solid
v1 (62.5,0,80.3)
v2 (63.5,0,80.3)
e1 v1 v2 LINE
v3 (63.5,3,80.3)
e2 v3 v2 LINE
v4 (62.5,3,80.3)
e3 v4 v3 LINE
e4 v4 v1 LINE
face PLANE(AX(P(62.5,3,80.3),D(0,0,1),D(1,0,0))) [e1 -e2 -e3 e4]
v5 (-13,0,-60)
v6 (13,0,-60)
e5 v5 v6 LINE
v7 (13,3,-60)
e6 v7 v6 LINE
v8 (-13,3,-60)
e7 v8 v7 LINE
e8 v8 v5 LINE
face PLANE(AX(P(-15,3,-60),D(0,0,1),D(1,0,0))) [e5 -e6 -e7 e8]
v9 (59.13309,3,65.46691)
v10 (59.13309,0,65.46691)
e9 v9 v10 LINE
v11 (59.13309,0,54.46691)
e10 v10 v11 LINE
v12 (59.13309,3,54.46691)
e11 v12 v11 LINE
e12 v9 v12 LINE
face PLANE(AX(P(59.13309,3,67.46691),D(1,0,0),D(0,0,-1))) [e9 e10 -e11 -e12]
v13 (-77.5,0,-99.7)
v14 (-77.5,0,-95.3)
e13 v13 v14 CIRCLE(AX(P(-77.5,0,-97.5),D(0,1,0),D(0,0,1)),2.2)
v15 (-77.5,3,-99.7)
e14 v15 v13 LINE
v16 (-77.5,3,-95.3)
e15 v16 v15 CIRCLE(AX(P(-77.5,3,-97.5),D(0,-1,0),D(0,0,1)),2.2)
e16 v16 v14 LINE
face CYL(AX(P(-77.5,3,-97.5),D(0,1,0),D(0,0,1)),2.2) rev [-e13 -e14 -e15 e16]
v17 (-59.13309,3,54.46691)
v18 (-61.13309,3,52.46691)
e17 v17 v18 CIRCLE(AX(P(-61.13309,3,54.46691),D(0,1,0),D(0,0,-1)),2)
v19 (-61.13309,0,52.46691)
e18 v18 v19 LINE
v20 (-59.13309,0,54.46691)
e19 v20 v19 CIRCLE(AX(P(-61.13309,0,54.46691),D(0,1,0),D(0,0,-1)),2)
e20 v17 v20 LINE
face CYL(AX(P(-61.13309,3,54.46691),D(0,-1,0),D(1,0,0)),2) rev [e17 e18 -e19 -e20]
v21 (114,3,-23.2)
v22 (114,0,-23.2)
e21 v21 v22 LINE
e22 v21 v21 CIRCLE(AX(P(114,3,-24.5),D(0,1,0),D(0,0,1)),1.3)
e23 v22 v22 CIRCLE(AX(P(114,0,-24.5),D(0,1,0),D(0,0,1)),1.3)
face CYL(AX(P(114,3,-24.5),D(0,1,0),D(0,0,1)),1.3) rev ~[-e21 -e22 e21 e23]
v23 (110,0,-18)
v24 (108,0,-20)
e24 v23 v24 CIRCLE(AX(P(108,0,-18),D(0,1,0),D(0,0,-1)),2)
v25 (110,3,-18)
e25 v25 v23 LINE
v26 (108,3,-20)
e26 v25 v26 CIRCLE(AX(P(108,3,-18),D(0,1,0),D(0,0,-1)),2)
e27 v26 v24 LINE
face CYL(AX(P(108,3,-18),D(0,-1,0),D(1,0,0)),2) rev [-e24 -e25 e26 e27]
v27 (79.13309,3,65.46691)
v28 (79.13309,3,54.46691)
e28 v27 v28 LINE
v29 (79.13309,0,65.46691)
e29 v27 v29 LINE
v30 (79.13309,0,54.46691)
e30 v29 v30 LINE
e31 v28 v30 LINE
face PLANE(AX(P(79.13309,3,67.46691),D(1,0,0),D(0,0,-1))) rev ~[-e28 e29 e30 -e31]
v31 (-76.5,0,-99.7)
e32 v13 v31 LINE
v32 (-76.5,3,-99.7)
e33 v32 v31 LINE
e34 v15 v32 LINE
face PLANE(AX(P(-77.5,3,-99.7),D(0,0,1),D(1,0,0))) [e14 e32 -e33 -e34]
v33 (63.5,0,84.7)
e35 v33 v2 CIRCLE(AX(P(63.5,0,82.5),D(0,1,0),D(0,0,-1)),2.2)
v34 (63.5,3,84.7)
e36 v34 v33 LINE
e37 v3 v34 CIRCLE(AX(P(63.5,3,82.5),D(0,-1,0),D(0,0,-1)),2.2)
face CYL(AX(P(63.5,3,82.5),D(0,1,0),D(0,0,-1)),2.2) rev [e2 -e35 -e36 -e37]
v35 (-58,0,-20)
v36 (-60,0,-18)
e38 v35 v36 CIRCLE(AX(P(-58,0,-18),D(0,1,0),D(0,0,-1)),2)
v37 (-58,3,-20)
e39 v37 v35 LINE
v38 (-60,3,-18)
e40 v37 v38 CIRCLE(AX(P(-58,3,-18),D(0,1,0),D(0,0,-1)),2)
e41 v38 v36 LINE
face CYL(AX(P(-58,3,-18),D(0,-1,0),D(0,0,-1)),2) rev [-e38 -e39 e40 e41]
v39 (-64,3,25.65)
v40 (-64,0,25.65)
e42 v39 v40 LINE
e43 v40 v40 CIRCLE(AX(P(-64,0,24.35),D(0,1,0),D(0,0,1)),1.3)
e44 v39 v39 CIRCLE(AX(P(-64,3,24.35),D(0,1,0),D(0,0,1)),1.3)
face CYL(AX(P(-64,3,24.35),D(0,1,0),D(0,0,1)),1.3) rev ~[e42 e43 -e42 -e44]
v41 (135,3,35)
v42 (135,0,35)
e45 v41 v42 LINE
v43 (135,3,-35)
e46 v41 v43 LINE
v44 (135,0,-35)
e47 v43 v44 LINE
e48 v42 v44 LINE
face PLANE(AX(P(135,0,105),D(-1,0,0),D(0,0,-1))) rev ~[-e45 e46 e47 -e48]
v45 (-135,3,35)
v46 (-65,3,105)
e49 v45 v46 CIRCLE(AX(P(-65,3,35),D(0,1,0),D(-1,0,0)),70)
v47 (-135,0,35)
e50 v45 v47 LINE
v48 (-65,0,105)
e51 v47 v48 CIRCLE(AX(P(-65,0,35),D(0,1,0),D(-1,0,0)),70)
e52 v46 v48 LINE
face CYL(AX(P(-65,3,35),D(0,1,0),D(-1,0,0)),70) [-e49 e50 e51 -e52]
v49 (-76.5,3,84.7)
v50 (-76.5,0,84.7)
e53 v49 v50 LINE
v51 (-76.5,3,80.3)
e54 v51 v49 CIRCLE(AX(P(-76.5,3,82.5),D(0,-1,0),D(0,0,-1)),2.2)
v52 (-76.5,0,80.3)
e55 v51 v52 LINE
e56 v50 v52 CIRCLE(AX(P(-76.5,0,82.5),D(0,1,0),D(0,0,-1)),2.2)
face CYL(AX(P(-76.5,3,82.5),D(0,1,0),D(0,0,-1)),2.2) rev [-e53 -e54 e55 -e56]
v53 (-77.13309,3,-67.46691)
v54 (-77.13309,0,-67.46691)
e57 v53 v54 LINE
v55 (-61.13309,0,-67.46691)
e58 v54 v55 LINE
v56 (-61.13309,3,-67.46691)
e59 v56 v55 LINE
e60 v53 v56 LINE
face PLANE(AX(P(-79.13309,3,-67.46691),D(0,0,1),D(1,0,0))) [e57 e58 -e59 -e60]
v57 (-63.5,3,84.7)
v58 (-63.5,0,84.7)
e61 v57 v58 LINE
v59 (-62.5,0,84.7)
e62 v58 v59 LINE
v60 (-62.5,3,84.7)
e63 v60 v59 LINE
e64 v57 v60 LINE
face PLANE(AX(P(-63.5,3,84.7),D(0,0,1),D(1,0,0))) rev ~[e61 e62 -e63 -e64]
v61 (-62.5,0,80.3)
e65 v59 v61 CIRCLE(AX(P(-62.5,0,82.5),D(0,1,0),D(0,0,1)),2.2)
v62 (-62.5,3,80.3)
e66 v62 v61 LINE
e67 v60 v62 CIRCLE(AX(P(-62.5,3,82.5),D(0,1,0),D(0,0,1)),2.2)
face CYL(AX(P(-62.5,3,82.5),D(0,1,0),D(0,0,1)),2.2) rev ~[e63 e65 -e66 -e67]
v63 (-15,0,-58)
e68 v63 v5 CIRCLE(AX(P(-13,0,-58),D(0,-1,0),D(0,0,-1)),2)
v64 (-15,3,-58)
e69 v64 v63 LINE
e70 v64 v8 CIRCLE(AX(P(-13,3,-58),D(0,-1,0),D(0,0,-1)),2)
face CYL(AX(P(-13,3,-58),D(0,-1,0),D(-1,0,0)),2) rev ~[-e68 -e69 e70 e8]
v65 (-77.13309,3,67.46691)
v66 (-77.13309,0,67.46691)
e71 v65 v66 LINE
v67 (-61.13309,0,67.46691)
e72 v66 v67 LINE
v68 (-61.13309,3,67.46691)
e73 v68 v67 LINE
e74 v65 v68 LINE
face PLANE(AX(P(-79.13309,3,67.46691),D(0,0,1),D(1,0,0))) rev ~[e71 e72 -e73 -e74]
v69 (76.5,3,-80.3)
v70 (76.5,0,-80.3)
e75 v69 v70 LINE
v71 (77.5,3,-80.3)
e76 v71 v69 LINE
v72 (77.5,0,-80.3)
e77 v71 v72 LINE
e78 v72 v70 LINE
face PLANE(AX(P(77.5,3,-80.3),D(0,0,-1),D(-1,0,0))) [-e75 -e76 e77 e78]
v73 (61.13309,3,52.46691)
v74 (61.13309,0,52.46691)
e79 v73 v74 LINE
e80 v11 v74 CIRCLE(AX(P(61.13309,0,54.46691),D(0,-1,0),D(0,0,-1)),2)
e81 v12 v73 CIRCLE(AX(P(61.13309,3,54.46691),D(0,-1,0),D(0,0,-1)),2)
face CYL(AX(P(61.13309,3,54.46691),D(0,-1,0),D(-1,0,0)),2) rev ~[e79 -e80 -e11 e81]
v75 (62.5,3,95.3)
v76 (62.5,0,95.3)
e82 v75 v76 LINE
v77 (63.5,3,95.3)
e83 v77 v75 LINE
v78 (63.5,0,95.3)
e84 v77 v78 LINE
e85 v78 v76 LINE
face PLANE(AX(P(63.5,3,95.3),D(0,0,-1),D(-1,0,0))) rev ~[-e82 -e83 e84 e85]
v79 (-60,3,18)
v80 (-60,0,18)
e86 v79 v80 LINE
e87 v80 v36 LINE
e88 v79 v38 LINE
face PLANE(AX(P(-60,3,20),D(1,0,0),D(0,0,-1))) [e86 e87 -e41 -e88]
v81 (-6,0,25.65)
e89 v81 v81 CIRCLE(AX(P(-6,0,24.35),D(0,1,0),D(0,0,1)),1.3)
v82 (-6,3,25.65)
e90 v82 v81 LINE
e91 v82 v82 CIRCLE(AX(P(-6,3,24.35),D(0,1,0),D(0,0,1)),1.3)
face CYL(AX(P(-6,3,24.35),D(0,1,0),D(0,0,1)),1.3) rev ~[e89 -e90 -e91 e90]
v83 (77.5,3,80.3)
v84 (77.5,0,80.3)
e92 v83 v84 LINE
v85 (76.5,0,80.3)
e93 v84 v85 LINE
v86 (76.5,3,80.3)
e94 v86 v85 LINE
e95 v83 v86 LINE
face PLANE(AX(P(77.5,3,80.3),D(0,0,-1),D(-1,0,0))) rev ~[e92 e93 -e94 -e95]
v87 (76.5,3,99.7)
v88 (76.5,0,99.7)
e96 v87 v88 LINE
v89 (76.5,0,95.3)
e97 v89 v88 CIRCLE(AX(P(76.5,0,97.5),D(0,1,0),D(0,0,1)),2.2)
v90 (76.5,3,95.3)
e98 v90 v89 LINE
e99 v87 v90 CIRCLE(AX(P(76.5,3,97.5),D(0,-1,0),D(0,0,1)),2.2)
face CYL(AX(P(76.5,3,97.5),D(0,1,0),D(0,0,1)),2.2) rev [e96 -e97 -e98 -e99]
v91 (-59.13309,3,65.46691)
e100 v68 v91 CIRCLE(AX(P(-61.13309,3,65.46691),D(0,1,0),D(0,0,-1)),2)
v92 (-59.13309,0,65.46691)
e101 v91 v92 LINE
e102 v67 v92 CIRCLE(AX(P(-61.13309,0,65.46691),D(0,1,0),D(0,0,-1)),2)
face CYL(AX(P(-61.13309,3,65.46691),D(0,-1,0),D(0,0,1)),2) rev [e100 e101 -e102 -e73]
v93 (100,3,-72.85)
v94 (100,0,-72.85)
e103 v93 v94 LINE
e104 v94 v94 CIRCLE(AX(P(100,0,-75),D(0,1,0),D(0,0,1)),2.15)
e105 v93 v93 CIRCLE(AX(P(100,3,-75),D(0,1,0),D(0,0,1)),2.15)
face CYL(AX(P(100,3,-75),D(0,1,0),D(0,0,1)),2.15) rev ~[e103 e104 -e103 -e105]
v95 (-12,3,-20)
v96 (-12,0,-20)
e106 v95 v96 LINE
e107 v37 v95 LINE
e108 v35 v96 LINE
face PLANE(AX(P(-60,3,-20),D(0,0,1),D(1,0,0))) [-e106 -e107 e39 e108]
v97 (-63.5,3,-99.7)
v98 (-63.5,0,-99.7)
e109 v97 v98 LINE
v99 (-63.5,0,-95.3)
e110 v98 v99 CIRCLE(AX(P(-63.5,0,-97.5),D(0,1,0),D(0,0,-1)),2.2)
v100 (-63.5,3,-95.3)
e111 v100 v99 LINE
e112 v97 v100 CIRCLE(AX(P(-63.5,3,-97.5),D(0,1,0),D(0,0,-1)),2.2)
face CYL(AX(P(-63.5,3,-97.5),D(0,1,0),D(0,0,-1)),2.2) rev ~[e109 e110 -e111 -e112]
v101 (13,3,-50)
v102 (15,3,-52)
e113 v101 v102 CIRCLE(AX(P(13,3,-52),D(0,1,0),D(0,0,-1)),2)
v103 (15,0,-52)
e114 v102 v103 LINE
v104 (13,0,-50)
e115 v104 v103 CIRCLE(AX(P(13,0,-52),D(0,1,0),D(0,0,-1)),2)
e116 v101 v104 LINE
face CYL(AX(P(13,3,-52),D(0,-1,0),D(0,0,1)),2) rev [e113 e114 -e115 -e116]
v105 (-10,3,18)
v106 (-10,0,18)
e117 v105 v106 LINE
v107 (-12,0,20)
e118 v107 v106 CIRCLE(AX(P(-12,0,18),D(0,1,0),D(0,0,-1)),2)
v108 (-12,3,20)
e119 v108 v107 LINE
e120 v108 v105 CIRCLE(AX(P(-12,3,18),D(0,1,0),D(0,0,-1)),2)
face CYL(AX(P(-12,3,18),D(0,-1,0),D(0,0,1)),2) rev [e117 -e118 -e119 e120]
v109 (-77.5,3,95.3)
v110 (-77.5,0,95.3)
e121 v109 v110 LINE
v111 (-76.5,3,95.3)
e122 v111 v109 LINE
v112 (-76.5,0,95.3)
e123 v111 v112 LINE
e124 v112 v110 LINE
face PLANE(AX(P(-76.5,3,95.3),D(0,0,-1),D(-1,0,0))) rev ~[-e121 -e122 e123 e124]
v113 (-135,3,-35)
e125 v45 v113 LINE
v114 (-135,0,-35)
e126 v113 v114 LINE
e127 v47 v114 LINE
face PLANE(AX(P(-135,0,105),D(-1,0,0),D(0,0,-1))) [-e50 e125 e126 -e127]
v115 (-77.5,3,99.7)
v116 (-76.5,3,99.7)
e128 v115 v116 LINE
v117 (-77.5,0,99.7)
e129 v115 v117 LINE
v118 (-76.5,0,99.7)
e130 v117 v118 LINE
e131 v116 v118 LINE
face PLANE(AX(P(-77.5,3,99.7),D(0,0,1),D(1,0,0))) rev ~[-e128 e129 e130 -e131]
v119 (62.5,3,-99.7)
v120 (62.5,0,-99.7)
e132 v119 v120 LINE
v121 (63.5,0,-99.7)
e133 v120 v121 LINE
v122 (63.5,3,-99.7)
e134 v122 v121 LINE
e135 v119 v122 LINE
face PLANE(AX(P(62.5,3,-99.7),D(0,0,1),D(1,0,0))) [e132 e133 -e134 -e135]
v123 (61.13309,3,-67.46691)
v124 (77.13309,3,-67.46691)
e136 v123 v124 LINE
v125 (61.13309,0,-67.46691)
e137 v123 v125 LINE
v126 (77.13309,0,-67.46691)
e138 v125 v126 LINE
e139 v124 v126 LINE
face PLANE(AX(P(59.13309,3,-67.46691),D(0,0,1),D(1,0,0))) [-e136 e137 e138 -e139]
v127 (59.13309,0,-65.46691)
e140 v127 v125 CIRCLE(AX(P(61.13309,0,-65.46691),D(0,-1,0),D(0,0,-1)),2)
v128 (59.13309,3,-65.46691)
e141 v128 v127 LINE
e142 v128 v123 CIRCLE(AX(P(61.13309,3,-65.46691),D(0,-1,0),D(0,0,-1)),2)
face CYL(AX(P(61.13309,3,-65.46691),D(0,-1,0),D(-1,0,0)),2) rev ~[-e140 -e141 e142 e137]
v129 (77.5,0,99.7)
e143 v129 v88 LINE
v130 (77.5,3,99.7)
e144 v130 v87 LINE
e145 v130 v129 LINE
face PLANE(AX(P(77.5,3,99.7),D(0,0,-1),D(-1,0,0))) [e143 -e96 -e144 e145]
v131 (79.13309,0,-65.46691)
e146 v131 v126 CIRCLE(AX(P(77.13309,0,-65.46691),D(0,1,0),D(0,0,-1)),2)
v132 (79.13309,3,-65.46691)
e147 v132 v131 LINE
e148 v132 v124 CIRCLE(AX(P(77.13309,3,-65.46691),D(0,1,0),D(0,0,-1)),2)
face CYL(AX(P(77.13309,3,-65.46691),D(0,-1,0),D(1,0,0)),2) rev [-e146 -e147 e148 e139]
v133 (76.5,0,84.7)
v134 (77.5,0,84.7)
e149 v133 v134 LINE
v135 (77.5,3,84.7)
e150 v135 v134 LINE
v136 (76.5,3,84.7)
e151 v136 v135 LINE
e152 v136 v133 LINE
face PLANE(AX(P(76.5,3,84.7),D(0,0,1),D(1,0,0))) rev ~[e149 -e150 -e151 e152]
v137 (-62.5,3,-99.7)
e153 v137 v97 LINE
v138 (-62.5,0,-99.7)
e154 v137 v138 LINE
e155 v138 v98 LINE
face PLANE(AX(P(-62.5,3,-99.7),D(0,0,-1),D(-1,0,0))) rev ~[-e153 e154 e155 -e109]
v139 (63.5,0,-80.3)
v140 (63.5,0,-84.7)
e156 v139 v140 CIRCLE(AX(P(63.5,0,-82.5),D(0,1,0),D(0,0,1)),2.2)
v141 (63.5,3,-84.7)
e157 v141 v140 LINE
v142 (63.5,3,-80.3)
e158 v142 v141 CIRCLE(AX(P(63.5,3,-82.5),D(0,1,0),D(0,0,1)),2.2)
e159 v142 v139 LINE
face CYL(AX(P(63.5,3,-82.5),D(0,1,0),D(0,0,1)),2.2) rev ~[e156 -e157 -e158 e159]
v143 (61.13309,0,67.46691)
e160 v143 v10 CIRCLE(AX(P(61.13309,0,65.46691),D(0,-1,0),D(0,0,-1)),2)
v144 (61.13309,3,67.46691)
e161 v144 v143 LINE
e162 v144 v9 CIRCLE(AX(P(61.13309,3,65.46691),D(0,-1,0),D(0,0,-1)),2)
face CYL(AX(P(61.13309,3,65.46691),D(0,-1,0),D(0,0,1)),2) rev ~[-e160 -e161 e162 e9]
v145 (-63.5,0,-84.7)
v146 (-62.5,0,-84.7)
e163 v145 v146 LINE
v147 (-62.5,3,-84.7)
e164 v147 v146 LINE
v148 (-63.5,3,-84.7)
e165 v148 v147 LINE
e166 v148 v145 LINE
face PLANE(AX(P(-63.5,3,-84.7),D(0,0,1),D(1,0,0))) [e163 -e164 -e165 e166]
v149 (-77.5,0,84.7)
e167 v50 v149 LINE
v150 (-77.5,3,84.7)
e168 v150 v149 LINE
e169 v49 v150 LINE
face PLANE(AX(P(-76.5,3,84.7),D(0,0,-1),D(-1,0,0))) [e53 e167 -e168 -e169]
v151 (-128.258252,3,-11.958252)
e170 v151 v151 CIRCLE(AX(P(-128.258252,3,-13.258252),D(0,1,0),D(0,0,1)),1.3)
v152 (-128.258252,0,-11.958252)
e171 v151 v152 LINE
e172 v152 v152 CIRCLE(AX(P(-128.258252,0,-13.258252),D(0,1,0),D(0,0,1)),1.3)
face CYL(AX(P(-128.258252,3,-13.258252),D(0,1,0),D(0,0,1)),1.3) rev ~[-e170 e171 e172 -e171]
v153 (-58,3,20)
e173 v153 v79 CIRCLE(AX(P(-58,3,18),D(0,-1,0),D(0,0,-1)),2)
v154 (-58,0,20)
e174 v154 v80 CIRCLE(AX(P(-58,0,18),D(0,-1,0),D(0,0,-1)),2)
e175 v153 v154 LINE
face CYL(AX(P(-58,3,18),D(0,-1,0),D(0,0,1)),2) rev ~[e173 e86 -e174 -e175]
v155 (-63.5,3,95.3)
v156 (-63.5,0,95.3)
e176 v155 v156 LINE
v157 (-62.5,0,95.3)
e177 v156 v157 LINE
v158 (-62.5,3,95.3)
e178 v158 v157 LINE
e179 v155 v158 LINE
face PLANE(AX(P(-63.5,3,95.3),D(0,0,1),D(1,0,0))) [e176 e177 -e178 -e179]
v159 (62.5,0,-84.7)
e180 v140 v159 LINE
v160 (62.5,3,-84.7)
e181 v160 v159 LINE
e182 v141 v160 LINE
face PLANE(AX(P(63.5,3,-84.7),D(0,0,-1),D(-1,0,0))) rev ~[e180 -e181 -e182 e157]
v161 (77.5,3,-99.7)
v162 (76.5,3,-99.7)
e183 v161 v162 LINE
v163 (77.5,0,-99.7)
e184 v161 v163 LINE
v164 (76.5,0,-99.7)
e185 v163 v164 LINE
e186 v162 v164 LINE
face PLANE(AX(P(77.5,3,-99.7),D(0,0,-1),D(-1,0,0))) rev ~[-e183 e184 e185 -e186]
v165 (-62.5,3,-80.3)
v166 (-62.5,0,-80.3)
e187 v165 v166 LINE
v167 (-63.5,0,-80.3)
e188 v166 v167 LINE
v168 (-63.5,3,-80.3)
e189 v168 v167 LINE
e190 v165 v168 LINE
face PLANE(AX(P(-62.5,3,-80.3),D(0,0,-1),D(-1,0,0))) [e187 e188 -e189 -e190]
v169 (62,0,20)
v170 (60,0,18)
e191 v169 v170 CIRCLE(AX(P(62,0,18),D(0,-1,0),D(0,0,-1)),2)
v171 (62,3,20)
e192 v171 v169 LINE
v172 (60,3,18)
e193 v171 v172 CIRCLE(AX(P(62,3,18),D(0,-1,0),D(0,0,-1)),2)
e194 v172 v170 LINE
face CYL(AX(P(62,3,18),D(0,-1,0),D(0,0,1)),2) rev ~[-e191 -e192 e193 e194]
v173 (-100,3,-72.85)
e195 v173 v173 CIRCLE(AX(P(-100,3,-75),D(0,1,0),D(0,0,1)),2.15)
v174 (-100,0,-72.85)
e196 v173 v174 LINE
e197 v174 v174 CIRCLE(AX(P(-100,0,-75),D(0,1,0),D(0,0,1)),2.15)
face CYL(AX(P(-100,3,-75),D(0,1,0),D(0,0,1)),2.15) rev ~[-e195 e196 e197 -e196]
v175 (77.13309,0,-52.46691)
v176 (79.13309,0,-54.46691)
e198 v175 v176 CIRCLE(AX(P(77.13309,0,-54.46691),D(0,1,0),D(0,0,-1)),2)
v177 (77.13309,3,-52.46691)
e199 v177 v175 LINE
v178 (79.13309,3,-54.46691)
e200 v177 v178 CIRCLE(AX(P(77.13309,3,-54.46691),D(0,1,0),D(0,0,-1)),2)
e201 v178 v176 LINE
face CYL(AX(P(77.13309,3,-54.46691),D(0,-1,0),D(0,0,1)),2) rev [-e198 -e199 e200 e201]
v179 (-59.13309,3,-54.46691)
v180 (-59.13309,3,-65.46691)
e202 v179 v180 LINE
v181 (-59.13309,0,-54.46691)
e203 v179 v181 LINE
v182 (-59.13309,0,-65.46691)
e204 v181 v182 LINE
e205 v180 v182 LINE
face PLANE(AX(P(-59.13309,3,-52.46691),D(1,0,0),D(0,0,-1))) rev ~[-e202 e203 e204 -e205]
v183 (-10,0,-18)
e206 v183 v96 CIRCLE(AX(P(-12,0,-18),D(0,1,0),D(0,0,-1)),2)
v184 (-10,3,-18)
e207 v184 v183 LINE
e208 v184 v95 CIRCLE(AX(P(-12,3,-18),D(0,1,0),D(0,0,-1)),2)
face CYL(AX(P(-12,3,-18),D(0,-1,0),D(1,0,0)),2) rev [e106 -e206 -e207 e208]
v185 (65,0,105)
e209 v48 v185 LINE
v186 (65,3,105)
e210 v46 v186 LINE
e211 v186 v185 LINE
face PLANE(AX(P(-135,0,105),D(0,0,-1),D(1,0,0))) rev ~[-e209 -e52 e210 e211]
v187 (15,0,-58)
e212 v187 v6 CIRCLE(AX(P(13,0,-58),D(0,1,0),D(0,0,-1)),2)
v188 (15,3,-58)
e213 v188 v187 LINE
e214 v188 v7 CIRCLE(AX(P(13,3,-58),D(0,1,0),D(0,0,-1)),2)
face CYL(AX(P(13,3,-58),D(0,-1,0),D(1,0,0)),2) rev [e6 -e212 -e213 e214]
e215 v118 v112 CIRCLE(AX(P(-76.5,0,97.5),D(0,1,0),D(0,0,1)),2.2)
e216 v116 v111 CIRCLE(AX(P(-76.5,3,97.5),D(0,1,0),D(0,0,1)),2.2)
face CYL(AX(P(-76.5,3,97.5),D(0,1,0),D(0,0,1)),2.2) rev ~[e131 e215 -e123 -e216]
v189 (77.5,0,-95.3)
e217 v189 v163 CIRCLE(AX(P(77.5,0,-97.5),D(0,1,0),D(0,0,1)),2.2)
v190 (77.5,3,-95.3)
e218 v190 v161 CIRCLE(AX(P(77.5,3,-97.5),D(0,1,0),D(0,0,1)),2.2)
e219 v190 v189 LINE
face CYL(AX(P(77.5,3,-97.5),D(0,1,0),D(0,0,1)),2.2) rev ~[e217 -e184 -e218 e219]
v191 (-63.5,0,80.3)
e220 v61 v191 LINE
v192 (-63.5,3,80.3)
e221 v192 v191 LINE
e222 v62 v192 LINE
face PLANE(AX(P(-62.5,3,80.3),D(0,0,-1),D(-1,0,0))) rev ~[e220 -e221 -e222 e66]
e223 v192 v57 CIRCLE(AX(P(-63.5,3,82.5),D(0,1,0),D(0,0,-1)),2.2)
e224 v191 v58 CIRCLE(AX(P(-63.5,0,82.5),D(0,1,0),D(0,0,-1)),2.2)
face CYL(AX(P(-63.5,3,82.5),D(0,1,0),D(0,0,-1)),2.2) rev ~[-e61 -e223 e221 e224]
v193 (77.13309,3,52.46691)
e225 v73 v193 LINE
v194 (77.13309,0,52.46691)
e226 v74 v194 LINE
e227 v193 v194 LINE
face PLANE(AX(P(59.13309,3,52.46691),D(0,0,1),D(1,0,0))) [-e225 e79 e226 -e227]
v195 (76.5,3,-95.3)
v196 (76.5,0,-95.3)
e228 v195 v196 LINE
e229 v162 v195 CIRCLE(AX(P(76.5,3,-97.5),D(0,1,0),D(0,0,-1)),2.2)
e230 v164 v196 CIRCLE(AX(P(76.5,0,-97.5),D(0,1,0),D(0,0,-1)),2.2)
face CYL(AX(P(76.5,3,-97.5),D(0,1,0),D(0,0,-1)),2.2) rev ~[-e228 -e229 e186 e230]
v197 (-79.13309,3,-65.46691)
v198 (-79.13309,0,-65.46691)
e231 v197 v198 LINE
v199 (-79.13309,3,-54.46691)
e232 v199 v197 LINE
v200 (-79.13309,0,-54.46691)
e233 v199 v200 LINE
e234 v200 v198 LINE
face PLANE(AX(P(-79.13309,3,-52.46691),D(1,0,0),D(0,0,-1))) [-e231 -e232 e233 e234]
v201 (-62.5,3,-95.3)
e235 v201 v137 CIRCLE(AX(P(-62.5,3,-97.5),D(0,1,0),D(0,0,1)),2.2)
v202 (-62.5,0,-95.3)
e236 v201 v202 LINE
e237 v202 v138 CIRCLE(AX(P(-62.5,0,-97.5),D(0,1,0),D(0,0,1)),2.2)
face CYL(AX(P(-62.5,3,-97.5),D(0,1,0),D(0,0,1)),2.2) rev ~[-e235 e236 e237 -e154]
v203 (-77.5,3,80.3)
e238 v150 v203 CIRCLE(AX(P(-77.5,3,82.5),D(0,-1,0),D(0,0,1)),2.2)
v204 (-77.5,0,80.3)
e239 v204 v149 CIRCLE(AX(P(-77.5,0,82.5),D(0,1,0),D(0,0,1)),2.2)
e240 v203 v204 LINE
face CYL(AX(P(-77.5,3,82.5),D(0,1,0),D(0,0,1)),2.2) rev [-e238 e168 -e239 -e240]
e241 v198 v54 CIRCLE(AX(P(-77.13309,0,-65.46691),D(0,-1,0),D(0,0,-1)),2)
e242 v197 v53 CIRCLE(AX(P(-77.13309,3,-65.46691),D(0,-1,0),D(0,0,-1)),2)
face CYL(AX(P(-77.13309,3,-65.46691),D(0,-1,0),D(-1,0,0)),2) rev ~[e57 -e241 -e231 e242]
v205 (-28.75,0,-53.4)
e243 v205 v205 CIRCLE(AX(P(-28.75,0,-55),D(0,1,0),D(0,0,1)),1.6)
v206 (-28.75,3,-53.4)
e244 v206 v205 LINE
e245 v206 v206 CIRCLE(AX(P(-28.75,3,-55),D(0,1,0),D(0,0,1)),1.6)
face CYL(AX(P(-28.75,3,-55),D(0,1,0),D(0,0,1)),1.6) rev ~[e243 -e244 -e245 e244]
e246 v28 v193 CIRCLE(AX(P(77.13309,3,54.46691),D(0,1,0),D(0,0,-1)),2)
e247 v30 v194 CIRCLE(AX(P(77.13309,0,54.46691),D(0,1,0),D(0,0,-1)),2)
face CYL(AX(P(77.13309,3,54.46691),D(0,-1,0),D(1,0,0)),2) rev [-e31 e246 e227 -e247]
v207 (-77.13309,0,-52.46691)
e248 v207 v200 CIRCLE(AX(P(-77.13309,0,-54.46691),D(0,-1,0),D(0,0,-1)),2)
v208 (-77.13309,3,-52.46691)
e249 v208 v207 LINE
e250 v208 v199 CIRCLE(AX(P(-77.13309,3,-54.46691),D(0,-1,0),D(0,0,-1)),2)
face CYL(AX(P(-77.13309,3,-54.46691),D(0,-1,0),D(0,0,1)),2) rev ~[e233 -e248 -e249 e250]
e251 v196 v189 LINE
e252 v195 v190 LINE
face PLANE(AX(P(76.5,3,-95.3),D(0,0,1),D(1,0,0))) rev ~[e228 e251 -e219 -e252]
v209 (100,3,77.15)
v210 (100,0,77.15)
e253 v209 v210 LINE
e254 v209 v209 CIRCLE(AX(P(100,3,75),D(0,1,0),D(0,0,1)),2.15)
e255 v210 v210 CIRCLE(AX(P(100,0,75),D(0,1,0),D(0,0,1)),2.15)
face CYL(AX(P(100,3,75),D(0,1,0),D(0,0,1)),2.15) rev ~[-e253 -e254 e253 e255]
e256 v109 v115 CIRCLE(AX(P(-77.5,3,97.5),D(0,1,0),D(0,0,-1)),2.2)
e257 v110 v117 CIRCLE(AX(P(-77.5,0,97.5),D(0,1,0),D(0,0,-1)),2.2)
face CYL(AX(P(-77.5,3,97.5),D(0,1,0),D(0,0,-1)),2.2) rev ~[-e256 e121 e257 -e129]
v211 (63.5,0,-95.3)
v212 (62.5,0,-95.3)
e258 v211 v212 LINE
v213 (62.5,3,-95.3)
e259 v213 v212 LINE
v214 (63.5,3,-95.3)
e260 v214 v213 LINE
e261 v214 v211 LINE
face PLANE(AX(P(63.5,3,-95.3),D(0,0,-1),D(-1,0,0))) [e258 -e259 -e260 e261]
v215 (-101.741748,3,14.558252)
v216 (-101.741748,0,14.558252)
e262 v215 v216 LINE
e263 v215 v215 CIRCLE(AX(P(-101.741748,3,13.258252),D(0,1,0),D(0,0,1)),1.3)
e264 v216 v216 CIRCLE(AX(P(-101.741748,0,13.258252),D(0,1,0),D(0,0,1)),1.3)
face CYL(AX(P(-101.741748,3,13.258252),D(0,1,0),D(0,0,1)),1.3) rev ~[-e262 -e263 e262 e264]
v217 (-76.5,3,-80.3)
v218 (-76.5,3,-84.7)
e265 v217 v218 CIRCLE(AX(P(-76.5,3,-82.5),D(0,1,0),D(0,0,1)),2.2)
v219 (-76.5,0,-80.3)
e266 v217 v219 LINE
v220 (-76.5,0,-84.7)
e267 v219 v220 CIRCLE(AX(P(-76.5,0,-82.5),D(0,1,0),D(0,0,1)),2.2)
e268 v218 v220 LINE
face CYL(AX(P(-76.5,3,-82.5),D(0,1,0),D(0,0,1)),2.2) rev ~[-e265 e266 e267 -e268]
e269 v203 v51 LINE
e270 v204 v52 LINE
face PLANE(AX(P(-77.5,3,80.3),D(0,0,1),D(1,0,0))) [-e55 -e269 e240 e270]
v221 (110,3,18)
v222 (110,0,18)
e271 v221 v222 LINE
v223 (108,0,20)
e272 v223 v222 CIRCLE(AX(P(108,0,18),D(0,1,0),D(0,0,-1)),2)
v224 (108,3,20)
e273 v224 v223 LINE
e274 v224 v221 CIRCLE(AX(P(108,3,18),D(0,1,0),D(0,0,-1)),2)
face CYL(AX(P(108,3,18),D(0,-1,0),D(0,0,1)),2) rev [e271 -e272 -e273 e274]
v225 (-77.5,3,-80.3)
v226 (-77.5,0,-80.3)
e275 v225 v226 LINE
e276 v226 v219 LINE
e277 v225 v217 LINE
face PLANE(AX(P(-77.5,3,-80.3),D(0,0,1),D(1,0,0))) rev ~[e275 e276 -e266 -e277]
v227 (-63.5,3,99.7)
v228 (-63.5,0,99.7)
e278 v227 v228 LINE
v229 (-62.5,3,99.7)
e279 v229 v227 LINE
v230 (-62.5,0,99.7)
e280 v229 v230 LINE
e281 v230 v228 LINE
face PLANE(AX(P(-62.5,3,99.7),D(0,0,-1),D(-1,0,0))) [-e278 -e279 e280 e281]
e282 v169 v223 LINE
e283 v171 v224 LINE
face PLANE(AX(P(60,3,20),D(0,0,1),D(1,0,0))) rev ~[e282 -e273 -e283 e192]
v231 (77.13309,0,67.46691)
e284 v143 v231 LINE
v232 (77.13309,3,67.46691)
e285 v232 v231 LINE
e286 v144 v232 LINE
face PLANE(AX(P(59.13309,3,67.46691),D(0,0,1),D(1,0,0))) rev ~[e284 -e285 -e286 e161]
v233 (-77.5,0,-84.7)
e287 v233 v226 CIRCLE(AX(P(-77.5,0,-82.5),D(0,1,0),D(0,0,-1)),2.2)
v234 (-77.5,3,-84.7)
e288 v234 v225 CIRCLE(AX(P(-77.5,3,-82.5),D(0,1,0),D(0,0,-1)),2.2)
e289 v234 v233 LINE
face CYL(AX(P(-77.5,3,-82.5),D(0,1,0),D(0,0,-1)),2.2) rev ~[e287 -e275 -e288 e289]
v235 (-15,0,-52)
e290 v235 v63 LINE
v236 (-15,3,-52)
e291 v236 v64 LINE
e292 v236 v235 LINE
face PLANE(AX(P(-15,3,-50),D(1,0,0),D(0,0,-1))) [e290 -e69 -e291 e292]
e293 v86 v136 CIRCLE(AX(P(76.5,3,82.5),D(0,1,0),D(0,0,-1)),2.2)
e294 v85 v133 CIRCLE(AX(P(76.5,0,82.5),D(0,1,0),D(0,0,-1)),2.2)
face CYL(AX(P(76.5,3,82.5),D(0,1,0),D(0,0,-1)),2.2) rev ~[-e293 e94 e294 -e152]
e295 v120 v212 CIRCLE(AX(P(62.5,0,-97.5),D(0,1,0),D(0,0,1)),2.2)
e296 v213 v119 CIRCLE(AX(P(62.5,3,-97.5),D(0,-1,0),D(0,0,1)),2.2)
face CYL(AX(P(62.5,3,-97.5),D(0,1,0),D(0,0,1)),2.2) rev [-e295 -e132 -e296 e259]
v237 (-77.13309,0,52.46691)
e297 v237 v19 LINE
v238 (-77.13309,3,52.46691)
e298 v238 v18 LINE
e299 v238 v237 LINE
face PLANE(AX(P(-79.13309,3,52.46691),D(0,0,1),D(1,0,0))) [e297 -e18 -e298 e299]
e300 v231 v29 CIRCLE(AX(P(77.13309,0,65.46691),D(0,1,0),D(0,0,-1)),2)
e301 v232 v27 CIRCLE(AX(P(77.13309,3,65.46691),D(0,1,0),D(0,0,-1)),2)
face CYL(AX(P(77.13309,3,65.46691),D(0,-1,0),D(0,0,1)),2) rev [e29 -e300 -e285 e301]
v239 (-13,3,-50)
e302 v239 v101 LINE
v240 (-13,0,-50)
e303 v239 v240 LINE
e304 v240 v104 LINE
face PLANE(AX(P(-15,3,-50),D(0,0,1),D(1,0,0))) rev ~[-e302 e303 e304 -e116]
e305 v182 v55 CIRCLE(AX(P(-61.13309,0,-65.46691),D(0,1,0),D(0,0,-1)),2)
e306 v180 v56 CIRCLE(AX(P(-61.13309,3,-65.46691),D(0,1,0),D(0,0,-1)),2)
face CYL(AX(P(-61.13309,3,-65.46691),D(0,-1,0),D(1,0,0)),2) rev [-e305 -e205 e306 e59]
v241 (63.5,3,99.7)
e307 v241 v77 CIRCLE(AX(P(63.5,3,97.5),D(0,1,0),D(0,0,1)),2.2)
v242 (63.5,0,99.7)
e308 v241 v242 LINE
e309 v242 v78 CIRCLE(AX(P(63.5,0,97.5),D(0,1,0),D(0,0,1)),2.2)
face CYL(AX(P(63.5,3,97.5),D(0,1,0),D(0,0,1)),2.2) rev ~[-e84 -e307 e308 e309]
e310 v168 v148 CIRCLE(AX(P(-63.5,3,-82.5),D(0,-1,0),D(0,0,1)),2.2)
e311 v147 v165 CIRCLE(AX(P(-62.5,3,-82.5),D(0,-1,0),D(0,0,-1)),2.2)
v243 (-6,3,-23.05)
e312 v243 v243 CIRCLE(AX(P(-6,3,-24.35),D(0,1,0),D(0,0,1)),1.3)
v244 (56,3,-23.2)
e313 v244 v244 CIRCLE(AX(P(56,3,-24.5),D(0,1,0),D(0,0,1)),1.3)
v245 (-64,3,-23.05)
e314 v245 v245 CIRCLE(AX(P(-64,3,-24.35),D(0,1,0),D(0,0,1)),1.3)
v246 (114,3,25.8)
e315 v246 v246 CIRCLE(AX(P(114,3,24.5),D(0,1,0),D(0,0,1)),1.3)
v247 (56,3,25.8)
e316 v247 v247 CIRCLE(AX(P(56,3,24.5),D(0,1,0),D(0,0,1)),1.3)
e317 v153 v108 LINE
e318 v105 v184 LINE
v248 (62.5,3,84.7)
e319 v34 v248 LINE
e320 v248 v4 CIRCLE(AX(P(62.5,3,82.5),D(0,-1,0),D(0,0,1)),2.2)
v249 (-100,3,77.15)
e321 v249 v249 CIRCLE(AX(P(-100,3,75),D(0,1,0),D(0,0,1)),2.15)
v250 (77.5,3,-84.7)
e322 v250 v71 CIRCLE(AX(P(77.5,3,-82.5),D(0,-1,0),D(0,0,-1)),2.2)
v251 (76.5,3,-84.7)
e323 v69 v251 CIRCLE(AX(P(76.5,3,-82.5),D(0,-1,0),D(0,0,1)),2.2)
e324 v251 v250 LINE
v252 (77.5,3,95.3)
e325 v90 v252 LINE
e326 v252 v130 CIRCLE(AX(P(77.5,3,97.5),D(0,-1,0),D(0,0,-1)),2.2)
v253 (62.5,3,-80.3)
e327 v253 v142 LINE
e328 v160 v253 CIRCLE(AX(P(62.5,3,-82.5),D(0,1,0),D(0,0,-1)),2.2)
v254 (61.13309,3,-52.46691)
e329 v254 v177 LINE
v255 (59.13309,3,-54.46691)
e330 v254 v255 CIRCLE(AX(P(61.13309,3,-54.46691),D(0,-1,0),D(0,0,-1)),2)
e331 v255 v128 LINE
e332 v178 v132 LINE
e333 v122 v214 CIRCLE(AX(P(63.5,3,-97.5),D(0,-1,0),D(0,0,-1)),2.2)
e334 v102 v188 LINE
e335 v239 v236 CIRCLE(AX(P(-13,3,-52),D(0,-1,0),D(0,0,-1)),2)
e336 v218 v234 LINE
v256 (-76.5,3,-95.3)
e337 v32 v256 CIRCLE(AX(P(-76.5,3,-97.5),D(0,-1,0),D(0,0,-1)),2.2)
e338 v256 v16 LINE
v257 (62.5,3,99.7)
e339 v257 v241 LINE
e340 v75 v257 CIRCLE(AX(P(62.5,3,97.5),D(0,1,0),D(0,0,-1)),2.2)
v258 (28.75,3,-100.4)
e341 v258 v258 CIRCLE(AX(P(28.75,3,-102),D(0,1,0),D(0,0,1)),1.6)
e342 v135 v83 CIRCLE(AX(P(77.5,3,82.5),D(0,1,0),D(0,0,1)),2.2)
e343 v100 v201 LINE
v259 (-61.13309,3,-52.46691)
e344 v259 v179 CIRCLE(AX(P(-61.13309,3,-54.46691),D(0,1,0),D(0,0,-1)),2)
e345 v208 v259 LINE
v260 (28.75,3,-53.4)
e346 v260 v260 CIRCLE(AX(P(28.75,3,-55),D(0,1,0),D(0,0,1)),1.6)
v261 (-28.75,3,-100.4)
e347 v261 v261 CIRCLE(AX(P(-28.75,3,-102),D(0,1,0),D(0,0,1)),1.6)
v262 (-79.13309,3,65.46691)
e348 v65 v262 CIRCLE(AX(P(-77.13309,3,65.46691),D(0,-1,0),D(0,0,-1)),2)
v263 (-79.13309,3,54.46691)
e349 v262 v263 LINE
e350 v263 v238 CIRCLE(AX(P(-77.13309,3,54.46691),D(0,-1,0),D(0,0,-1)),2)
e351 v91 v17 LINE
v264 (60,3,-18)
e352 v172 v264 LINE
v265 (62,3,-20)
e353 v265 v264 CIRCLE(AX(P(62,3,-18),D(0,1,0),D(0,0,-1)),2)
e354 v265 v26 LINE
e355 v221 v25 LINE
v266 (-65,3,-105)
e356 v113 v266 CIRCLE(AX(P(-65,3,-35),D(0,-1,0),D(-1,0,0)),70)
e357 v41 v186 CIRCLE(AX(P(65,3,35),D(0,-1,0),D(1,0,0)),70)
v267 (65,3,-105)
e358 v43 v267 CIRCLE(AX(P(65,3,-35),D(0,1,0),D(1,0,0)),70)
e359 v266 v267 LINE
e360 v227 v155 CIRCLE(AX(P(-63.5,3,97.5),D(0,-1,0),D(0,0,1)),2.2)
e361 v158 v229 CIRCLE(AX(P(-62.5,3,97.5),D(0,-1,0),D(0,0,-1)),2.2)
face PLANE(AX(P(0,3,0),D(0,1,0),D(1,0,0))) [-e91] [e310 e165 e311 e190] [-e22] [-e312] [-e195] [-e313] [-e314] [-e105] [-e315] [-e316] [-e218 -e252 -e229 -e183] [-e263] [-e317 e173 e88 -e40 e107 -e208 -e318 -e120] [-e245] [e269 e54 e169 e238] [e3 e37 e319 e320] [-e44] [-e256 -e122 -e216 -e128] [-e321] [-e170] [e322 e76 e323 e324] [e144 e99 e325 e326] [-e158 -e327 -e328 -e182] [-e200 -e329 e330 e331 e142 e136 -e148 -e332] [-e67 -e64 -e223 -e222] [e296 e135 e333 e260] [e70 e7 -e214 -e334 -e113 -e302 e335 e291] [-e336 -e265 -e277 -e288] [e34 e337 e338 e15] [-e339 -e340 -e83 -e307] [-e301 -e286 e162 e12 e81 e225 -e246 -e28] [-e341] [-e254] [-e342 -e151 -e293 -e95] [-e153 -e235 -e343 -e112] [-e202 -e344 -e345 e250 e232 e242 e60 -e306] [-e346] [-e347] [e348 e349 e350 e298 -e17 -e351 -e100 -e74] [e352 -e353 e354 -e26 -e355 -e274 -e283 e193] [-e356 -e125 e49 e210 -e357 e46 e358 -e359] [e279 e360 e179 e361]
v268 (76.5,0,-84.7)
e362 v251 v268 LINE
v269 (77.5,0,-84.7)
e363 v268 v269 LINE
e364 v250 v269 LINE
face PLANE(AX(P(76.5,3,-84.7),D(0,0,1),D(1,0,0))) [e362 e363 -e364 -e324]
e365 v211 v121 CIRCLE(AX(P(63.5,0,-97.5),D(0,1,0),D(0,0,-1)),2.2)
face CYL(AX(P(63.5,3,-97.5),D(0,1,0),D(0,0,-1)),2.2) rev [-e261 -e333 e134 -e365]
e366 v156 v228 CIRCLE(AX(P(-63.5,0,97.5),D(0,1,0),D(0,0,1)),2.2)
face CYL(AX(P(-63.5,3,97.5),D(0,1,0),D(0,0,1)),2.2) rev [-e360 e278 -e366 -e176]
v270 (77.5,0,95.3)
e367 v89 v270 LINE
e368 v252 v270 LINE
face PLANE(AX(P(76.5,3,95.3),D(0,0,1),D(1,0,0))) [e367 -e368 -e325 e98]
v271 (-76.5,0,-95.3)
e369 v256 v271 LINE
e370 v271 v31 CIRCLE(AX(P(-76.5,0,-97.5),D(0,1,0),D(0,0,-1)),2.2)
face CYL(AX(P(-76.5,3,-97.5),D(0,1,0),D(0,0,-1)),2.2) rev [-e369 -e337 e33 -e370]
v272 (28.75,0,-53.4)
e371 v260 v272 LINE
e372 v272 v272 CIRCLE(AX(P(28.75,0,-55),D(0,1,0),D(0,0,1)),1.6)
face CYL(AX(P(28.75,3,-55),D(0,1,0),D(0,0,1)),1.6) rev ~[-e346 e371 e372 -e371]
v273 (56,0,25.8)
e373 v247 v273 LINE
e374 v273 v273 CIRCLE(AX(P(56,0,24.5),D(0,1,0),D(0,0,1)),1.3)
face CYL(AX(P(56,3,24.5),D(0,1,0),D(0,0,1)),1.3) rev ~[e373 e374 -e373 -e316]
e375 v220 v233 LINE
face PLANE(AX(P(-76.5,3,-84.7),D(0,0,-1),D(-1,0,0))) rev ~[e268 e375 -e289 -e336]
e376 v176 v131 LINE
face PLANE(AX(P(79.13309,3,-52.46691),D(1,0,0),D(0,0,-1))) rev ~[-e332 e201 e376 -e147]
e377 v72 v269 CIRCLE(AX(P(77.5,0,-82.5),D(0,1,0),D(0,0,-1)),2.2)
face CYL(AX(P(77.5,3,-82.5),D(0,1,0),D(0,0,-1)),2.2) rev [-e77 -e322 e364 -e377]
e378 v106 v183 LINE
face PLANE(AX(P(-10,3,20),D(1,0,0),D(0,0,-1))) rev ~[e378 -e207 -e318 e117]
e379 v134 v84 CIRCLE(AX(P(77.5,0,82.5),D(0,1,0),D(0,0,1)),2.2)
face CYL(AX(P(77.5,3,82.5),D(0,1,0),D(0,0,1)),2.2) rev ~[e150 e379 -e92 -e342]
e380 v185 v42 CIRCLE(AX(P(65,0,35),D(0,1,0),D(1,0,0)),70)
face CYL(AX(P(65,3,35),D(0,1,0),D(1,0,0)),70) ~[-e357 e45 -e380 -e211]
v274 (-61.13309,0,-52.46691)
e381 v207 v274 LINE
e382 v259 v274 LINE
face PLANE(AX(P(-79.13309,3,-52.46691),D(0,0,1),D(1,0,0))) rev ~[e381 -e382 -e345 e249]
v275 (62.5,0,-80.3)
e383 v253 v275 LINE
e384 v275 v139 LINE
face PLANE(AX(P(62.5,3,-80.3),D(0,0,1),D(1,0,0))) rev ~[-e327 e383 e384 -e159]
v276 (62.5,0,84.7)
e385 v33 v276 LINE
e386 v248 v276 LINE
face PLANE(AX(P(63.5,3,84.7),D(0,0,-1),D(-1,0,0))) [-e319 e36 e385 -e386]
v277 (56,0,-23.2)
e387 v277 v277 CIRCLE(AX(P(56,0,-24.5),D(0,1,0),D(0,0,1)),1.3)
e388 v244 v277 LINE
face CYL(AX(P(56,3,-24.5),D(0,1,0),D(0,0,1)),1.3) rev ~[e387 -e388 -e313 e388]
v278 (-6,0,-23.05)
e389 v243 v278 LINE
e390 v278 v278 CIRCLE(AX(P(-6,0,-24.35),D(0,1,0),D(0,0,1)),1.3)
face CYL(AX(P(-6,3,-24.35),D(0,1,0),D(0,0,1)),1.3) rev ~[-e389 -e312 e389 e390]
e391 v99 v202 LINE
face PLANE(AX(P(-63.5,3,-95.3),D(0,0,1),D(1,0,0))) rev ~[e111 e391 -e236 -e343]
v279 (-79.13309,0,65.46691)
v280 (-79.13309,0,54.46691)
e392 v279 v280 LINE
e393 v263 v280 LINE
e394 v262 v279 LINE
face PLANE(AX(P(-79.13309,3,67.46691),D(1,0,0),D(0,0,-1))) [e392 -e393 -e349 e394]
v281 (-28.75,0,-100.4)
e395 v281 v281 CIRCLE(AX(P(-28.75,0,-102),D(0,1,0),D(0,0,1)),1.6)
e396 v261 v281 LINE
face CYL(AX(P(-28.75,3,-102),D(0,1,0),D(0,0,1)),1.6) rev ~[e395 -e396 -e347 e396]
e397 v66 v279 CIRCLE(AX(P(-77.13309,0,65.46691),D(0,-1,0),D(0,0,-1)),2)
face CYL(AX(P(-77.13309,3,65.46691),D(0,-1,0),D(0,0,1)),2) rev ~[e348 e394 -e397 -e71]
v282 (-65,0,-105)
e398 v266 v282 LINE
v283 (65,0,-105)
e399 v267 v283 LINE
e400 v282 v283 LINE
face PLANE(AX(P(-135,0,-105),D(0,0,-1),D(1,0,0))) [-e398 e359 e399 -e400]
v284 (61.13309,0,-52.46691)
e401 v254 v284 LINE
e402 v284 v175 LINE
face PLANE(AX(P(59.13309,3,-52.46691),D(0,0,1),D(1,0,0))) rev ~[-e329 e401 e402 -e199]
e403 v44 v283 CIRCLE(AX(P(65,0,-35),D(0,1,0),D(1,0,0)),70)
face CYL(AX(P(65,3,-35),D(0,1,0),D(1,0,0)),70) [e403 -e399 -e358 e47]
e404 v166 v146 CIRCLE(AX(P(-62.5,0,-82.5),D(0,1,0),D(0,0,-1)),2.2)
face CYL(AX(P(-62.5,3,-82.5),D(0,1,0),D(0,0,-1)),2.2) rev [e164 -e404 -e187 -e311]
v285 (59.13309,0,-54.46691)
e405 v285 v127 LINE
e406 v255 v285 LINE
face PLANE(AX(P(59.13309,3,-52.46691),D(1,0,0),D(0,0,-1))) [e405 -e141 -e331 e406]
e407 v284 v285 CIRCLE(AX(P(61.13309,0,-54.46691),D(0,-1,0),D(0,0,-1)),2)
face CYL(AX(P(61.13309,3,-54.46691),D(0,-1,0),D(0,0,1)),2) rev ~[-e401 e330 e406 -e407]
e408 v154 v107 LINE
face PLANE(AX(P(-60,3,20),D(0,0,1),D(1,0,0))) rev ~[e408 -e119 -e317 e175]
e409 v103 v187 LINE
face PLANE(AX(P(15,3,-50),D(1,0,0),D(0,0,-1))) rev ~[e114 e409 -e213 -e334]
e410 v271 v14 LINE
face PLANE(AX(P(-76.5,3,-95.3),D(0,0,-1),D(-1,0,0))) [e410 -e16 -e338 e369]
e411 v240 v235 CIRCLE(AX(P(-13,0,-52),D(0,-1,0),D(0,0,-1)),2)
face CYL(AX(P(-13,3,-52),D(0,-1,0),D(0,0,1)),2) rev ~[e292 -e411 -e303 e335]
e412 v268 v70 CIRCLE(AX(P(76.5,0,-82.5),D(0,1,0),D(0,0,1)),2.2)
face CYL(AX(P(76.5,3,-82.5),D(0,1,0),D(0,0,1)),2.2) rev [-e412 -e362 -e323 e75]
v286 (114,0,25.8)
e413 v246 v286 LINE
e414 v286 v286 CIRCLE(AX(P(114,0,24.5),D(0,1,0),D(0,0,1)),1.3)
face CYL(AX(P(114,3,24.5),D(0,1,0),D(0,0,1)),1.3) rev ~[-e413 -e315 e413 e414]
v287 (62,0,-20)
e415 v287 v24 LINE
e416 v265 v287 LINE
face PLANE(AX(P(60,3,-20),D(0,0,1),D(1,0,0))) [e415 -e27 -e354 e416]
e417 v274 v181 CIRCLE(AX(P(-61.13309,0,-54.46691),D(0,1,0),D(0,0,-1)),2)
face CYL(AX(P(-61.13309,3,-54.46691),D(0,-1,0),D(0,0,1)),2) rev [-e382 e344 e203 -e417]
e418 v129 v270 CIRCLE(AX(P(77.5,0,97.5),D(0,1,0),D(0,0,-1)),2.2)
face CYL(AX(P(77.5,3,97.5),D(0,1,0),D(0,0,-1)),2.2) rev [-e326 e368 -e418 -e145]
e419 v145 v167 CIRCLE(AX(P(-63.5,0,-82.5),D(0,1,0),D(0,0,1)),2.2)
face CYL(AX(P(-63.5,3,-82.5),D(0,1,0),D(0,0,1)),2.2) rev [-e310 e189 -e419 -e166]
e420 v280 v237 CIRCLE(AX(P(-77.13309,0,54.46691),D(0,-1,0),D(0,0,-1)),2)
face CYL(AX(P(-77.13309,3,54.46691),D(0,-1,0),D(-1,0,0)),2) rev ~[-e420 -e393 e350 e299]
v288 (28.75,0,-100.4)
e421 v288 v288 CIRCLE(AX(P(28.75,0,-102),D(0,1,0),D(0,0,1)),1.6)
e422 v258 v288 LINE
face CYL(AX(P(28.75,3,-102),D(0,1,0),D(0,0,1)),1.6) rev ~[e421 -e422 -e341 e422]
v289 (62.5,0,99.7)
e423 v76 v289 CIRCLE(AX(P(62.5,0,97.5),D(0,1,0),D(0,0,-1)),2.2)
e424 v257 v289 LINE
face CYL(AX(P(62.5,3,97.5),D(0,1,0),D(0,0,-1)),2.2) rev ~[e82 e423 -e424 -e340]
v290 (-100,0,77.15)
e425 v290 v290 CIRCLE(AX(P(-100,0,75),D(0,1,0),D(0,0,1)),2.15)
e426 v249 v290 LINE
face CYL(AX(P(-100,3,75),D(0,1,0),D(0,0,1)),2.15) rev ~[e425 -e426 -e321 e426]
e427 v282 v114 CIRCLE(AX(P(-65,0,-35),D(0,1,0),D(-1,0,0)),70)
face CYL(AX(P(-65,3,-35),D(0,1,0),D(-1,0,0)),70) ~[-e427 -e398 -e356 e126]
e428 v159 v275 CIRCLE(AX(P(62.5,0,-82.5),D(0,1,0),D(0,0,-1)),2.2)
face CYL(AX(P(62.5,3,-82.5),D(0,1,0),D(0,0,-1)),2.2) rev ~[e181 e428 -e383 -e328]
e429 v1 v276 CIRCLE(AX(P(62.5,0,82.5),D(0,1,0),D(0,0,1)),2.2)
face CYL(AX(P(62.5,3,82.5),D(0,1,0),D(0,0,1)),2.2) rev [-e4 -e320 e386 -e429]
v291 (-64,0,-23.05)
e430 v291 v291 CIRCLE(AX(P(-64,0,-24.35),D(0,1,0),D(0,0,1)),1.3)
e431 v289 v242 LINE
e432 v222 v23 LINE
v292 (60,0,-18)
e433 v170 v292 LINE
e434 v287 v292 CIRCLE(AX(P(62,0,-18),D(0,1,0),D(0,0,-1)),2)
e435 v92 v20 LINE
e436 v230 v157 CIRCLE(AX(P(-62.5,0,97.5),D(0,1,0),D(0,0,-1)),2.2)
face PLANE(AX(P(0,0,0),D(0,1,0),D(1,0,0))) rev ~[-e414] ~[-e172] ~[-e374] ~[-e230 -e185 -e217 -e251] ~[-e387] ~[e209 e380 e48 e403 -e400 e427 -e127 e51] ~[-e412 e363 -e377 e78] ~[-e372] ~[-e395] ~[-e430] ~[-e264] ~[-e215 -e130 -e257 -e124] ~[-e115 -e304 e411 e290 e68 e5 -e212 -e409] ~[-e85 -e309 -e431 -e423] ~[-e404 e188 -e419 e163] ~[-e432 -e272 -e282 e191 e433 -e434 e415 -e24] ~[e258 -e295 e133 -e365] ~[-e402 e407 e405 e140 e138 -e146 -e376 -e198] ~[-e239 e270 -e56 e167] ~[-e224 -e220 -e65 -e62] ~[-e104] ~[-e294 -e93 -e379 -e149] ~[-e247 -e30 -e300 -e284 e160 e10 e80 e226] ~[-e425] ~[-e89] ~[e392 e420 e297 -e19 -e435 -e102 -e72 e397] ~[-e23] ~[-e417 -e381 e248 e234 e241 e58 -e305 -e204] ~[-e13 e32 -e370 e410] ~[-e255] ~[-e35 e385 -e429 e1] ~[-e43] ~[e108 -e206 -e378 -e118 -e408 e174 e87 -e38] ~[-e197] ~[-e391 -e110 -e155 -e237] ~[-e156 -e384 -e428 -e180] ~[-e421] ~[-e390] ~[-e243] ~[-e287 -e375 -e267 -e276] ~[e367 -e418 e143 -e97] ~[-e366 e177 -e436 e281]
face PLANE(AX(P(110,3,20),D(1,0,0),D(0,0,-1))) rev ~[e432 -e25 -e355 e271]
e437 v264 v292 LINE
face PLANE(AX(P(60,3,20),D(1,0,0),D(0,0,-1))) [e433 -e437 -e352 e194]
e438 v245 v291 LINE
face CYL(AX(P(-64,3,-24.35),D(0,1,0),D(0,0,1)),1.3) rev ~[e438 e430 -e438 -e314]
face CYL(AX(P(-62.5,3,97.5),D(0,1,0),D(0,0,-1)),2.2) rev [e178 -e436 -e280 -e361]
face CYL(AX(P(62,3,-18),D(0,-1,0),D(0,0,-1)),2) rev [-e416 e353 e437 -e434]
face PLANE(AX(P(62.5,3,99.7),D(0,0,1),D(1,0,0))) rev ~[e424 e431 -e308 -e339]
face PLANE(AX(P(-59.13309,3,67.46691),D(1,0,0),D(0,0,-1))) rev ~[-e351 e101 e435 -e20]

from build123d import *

# Parameters (mm, degrees)
SKETCH_1_W          = 270
SKETCH_1_H          = 210
EXTRUDE_1_DEPTH     = 3
SKETCH_2_R          = 2.15
CUT_EXTRUDE_1_DEPTH = 3
CUT_EXTRUDE_2_DEPTH = 10
SKETCH_4_W          = 20
SKETCH_4_H          = 15
CUT_EXTRUDE_3_DEPTH = 10
SKETCH_5_R          = 1.3
SKETCH_5_R_2        = 1.6
SKETCH_5_W          = 30
SKETCH_5_H          = 10
CUT_EXTRUDE_4_DEPTH = 10
CUT_EXTRUDE_5_DEPTH = 10
SKETCH_7_W          = 50
SKETCH_7_H          = 40
CUT_EXTRUDE_6_DEPTH = 10
FILLET_1_R          = 2


with BuildPart() as part:
    # 草图1 → 凸台-拉伸1 (new body)
    with BuildSketch(Plane(origin=(0, 0, 0), x_dir=(1, 0, 0), z_dir=(0, 1, 0))):
        Rectangle(SKETCH_1_W, SKETCH_1_H)
    extrude(amount=EXTRUDE_1_DEPTH)

    # 草图2 → 切除-拉伸1 (cut)
    with BuildSketch(Plane(origin=(0, 3, 0), x_dir=(1, 0, 0), z_dir=(0, 1, 0))):
        with Locations(Location((-100, 75, 0), (0, 0, 270))):
            Circle(SKETCH_2_R)
        with Locations(Location((100, 75, 0), (0, 0, 270))):
            Circle(SKETCH_2_R)
        with Locations(Location((100, -75, 0), (0, 0, 270))):
            Circle(SKETCH_2_R)
        with Locations(Location((-100, -75, 0), (0, 0, 270))):
            Circle(SKETCH_2_R)
    extrude(amount=-CUT_EXTRUDE_1_DEPTH, mode=Mode.SUBTRACT)

    # 草图3 → 切除-拉伸2 (cut)
    with BuildSketch(Plane(origin=(0, 3, 0), x_dir=(1, 0, 0), z_dir=(0, 1, 0))):
        with BuildLine():
            Line((-77.5, -80.3), (-76.5, -80.3))
            ThreePointArc((-76.5, -80.3), (-74.3, -82.5), (-76.5, -84.7))
            Line((-76.5, -84.7), (-77.5, -84.7))
            ThreePointArc((-77.5, -84.7), (-79.7, -82.5), (-77.5, -80.3))
        make_face()
        with BuildLine():
            Line((-62.5, -80.3), (-63.5, -80.3))
            ThreePointArc((-63.5, -80.3), (-65.7, -82.5), (-63.5, -84.7))
            Line((-63.5, -84.7), (-62.5, -84.7))
            ThreePointArc((-62.5, -84.7), (-60.3, -82.5), (-62.5, -80.3))
        make_face()
        with BuildLine():
            Line((-77.5, -99.7), (-76.5, -99.7))
            ThreePointArc((-76.5, -99.7), (-74.3, -97.5), (-76.5, -95.3))
            Line((-76.5, -95.3), (-77.5, -95.3))
            ThreePointArc((-77.5, -95.3), (-79.7, -97.5), (-77.5, -99.7))
        make_face()
        with BuildLine():
            Line((-62.5, -99.7), (-63.5, -99.7))
            ThreePointArc((-63.5, -99.7), (-65.7, -97.5), (-63.5, -95.3))
            Line((-63.5, -95.3), (-62.5, -95.3))
            ThreePointArc((-62.5, -95.3), (-60.3, -97.5), (-62.5, -99.7))
        make_face()
        with BuildLine():
            Line((62.5, -99.7), (63.5, -99.7))
            ThreePointArc((63.5, -99.7), (65.7, -97.5), (63.5, -95.3))
            Line((63.5, -95.3), (62.5, -95.3))
            ThreePointArc((62.5, -95.3), (60.3, -97.5), (62.5, -99.7))
        make_face()
        with BuildLine():
            Line((77.5, -99.7), (76.5, -99.7))
            ThreePointArc((76.5, -99.7), (74.3, -97.5), (76.5, -95.3))
            Line((76.5, -95.3), (77.5, -95.3))
            ThreePointArc((77.5, -95.3), (79.7, -97.5), (77.5, -99.7))
        make_face()
        with BuildLine():
            Line((77.5, -80.3), (76.5, -80.3))
            ThreePointArc((76.5, -80.3), (74.3, -82.5), (76.5, -84.7))
            Line((76.5, -84.7), (77.5, -84.7))
            ThreePointArc((77.5, -84.7), (79.7, -82.5), (77.5, -80.3))
        make_face()
        with BuildLine():
            Line((62.5, -80.3), (63.5, -80.3))
            ThreePointArc((63.5, -80.3), (65.7, -82.5), (63.5, -84.7))
            Line((63.5, -84.7), (62.5, -84.7))
            ThreePointArc((62.5, -84.7), (60.3, -82.5), (62.5, -80.3))
        make_face()
        with BuildLine():
            Line((-77.5, 80.3), (-76.5, 80.3))
            ThreePointArc((-76.5, 80.3), (-74.3, 82.5), (-76.5, 84.7))
            Line((-76.5, 84.7), (-77.5, 84.7))
            ThreePointArc((-77.5, 84.7), (-79.7, 82.5), (-77.5, 80.3))
        make_face()
        with BuildLine():
            Line((-62.5, 80.3), (-63.5, 80.3))
            ThreePointArc((-63.5, 80.3), (-65.7, 82.5), (-63.5, 84.7))
            Line((-63.5, 84.7), (-62.5, 84.7))
            ThreePointArc((-62.5, 84.7), (-60.3, 82.5), (-62.5, 80.3))
        make_face()
        with BuildLine():
            Line((-77.5, 99.7), (-76.5, 99.7))
            ThreePointArc((-76.5, 99.7), (-74.3, 97.5), (-76.5, 95.3))
            Line((-76.5, 95.3), (-77.5, 95.3))
            ThreePointArc((-77.5, 95.3), (-79.7, 97.5), (-77.5, 99.7))
        make_face()
        with BuildLine():
            Line((-62.5, 99.7), (-63.5, 99.7))
            ThreePointArc((-63.5, 99.7), (-65.7, 97.5), (-63.5, 95.3))
            Line((-63.5, 95.3), (-62.5, 95.3))
            ThreePointArc((-62.5, 95.3), (-60.3, 97.5), (-62.5, 99.7))
        make_face()
        with BuildLine():
            Line((62.5, 99.7), (63.5, 99.7))
            ThreePointArc((63.5, 99.7), (65.7, 97.5), (63.5, 95.3))
            Line((63.5, 95.3), (62.5, 95.3))
            ThreePointArc((62.5, 95.3), (60.3, 97.5), (62.5, 99.7))
        make_face()
        with BuildLine():
            Line((77.5, 99.7), (76.5, 99.7))
            ThreePointArc((76.5, 99.7), (74.3, 97.5), (76.5, 95.3))
            Line((76.5, 95.3), (77.5, 95.3))
            ThreePointArc((77.5, 95.3), (79.7, 97.5), (77.5, 99.7))
        make_face()
        with BuildLine():
            Line((77.5, 80.3), (76.5, 80.3))
            ThreePointArc((76.5, 80.3), (74.3, 82.5), (76.5, 84.7))
            Line((76.5, 84.7), (77.5, 84.7))
            ThreePointArc((77.5, 84.7), (79.7, 82.5), (77.5, 80.3))
        make_face()
        with BuildLine():
            Line((62.5, 80.3), (63.5, 80.3))
            ThreePointArc((63.5, 80.3), (65.7, 82.5), (63.5, 84.7))
            Line((63.5, 84.7), (62.5, 84.7))
            ThreePointArc((62.5, 84.7), (60.3, 82.5), (62.5, 80.3))
        make_face()
    extrude(amount=-CUT_EXTRUDE_2_DEPTH, mode=Mode.SUBTRACT)

    # 草图4 → 切除-拉伸3 (cut)
    with BuildSketch(Plane(origin=(0, 3, 0), x_dir=(1, 0, 0), z_dir=(0, 1, 0))):
        with Locations((-69.133090168, -59.966909832)):
            Rectangle(SKETCH_4_W, SKETCH_4_H)
        with Locations((69.133090168, -59.966909832)):
            Rectangle(SKETCH_4_W, SKETCH_4_H)
        with Locations((69.133090168, 59.966909832)):
            Rectangle(SKETCH_4_W, SKETCH_4_H)
        with Locations((-69.133090168, 59.966909832)):
            Rectangle(SKETCH_4_W, SKETCH_4_H)
    extrude(amount=-CUT_EXTRUDE_3_DEPTH, mode=Mode.SUBTRACT)

    # 草图5 → 切除-拉伸4 (cut)
    with BuildSketch(Plane(origin=(0, 3, 0), x_dir=(1, 0, 0), z_dir=(0, 1, 0))):
        with Locations(Location((-64, 24.35, 0), (0, 0, 270))):
            Circle(SKETCH_5_R)
        with Locations(Location((-6, 24.35, 0), (0, 0, 270))):
            Circle(SKETCH_5_R)
        with Locations(Location((56, 24.5, 0), (0, 0, 270))):
            Circle(SKETCH_5_R)
        with Locations(Location((114, 24.5, 0), (0, 0, 270))):
            Circle(SKETCH_5_R)
        with Locations(Location((114, -24.5, 0), (0, 0, 270))):
            Circle(SKETCH_5_R)
        with Locations(Location((56, -24.5, 0), (0, 0, 270))):
            Circle(SKETCH_5_R)
        with Locations(Location((-6, -24.35, 0), (0, 0, 270))):
            Circle(SKETCH_5_R)
        with Locations(Location((-64, -24.35, 0), (0, 0, 270))):
            Circle(SKETCH_5_R)
        with Locations(Location((-28.75, 102, 0), (0, 0, 270))):
            Circle(SKETCH_5_R_2)
        with Locations(Location((28.75, 102, 0), (0, 0, 270))):
            Circle(SKETCH_5_R_2)
        with Locations(Location((28.75, 55, 0), (0, 0, 270))):
            Circle(SKETCH_5_R_2)
        with Locations(Location((-28.75, 55, 0), (0, 0, 270))):
            Circle(SKETCH_5_R_2)
        with Locations(Location((-128.258252147, 13.258252147, 0), (0, 0, 270))):
            Circle(SKETCH_5_R)
        with Locations(Location((-101.741747853, -13.258252147, 0), (0, 0, 270))):
            Circle(SKETCH_5_R)
        with Locations((0, 55)):
            Rectangle(SKETCH_5_W, SKETCH_5_H)
    extrude(amount=-CUT_EXTRUDE_4_DEPTH, mode=Mode.SUBTRACT)

    # 草图6 → 切除-拉伸5 (cut)
    with BuildSketch(Plane(origin=(0, 3, 0), x_dir=(1, 0, 0), z_dir=(0, 1, 0))):
        with BuildLine():
            Line((-65, 105), (-135, 105))
            Line((-135, 105), (-135, 35))
            ThreePointArc((-135, 35), (-114.497474683, 84.497474683), (-65, 105))
        make_face()
        with BuildLine():
            Line((-135, -105), (-135, -35))
            ThreePointArc((-135, -35), (-114.497474683, -84.497474683), (-65, -105))
            Line((-65, -105), (-135, -105))
        make_face()
        with BuildLine():
            Line((65, -105), (135, -105))
            Line((135, -105), (135, -35))
            ThreePointArc((135, -35), (114.497474683, -84.497474683), (65, -105))
        make_face()
        with BuildLine():
            Line((135, 105), (135, 35))
            ThreePointArc((135, 35), (114.497474683, 84.497474683), (65, 105))
            Line((65, 105), (135, 105))
        make_face()
    extrude(amount=-CUT_EXTRUDE_5_DEPTH, mode=Mode.SUBTRACT)

    # 草图7 → 切除-拉伸6 (cut)
    with BuildSketch(Plane(origin=(0, 3, 0), x_dir=(1, 0, 0), z_dir=(0, 1, 0))):
        with Locations((-35, 0)):
            Rectangle(SKETCH_7_W, SKETCH_7_H)
        with Locations((85, 0)):
            Rectangle(SKETCH_7_W, SKETCH_7_H)
    extrude(amount=-CUT_EXTRUDE_6_DEPTH, mode=Mode.SUBTRACT)

    # 圆角1
    fillet_1_edges = [part.edges().sort_by_distance(p)[0] for p in [
        (-59.133090168, 1.5, -52.466909832),
        (-79.133090168, 1.5, -52.466909832),
        (-79.133090168, 1.5, -67.466909832),
        (-59.133090168, 1.5, -67.466909832),
        (79.133090168, 1.5, -67.466909832),
        (79.133090168, 1.5, -52.466909832),
        (59.133090168, 1.5, -52.466909832),
        (59.133090168, 1.5, -67.466909832),
        (59.133090168, 1.5, 52.466909832),
        (79.133090168, 1.5, 52.466909832),
        (79.133090168, 1.5, 67.466909832),
        (59.133090168, 1.5, 67.466909832),
        (-79.133090168, 1.5, 67.466909832),
        (-79.133090168, 1.5, 52.466909832),
        (-59.133090168, 1.5, 52.466909832),
        (-59.133090168, 1.5, 67.466909832),
        (15, 1.5, -60),
        (15, 1.5, -50),
        (-15, 1.5, -50),
        (-15, 1.5, -60),
        (-60, 1.5, 20),
        (-60, 1.5, -20),
        (-10, 1.5, -20),
        (-10, 1.5, 20),
        (110, 1.5, -20),
        (110, 1.5, 20),
        (60, 1.5, 20),
        (60, 1.5, -20),
    ]]
    fillet(fillet_1_edges, radius=FILLET_1_R)


solid = part.part
